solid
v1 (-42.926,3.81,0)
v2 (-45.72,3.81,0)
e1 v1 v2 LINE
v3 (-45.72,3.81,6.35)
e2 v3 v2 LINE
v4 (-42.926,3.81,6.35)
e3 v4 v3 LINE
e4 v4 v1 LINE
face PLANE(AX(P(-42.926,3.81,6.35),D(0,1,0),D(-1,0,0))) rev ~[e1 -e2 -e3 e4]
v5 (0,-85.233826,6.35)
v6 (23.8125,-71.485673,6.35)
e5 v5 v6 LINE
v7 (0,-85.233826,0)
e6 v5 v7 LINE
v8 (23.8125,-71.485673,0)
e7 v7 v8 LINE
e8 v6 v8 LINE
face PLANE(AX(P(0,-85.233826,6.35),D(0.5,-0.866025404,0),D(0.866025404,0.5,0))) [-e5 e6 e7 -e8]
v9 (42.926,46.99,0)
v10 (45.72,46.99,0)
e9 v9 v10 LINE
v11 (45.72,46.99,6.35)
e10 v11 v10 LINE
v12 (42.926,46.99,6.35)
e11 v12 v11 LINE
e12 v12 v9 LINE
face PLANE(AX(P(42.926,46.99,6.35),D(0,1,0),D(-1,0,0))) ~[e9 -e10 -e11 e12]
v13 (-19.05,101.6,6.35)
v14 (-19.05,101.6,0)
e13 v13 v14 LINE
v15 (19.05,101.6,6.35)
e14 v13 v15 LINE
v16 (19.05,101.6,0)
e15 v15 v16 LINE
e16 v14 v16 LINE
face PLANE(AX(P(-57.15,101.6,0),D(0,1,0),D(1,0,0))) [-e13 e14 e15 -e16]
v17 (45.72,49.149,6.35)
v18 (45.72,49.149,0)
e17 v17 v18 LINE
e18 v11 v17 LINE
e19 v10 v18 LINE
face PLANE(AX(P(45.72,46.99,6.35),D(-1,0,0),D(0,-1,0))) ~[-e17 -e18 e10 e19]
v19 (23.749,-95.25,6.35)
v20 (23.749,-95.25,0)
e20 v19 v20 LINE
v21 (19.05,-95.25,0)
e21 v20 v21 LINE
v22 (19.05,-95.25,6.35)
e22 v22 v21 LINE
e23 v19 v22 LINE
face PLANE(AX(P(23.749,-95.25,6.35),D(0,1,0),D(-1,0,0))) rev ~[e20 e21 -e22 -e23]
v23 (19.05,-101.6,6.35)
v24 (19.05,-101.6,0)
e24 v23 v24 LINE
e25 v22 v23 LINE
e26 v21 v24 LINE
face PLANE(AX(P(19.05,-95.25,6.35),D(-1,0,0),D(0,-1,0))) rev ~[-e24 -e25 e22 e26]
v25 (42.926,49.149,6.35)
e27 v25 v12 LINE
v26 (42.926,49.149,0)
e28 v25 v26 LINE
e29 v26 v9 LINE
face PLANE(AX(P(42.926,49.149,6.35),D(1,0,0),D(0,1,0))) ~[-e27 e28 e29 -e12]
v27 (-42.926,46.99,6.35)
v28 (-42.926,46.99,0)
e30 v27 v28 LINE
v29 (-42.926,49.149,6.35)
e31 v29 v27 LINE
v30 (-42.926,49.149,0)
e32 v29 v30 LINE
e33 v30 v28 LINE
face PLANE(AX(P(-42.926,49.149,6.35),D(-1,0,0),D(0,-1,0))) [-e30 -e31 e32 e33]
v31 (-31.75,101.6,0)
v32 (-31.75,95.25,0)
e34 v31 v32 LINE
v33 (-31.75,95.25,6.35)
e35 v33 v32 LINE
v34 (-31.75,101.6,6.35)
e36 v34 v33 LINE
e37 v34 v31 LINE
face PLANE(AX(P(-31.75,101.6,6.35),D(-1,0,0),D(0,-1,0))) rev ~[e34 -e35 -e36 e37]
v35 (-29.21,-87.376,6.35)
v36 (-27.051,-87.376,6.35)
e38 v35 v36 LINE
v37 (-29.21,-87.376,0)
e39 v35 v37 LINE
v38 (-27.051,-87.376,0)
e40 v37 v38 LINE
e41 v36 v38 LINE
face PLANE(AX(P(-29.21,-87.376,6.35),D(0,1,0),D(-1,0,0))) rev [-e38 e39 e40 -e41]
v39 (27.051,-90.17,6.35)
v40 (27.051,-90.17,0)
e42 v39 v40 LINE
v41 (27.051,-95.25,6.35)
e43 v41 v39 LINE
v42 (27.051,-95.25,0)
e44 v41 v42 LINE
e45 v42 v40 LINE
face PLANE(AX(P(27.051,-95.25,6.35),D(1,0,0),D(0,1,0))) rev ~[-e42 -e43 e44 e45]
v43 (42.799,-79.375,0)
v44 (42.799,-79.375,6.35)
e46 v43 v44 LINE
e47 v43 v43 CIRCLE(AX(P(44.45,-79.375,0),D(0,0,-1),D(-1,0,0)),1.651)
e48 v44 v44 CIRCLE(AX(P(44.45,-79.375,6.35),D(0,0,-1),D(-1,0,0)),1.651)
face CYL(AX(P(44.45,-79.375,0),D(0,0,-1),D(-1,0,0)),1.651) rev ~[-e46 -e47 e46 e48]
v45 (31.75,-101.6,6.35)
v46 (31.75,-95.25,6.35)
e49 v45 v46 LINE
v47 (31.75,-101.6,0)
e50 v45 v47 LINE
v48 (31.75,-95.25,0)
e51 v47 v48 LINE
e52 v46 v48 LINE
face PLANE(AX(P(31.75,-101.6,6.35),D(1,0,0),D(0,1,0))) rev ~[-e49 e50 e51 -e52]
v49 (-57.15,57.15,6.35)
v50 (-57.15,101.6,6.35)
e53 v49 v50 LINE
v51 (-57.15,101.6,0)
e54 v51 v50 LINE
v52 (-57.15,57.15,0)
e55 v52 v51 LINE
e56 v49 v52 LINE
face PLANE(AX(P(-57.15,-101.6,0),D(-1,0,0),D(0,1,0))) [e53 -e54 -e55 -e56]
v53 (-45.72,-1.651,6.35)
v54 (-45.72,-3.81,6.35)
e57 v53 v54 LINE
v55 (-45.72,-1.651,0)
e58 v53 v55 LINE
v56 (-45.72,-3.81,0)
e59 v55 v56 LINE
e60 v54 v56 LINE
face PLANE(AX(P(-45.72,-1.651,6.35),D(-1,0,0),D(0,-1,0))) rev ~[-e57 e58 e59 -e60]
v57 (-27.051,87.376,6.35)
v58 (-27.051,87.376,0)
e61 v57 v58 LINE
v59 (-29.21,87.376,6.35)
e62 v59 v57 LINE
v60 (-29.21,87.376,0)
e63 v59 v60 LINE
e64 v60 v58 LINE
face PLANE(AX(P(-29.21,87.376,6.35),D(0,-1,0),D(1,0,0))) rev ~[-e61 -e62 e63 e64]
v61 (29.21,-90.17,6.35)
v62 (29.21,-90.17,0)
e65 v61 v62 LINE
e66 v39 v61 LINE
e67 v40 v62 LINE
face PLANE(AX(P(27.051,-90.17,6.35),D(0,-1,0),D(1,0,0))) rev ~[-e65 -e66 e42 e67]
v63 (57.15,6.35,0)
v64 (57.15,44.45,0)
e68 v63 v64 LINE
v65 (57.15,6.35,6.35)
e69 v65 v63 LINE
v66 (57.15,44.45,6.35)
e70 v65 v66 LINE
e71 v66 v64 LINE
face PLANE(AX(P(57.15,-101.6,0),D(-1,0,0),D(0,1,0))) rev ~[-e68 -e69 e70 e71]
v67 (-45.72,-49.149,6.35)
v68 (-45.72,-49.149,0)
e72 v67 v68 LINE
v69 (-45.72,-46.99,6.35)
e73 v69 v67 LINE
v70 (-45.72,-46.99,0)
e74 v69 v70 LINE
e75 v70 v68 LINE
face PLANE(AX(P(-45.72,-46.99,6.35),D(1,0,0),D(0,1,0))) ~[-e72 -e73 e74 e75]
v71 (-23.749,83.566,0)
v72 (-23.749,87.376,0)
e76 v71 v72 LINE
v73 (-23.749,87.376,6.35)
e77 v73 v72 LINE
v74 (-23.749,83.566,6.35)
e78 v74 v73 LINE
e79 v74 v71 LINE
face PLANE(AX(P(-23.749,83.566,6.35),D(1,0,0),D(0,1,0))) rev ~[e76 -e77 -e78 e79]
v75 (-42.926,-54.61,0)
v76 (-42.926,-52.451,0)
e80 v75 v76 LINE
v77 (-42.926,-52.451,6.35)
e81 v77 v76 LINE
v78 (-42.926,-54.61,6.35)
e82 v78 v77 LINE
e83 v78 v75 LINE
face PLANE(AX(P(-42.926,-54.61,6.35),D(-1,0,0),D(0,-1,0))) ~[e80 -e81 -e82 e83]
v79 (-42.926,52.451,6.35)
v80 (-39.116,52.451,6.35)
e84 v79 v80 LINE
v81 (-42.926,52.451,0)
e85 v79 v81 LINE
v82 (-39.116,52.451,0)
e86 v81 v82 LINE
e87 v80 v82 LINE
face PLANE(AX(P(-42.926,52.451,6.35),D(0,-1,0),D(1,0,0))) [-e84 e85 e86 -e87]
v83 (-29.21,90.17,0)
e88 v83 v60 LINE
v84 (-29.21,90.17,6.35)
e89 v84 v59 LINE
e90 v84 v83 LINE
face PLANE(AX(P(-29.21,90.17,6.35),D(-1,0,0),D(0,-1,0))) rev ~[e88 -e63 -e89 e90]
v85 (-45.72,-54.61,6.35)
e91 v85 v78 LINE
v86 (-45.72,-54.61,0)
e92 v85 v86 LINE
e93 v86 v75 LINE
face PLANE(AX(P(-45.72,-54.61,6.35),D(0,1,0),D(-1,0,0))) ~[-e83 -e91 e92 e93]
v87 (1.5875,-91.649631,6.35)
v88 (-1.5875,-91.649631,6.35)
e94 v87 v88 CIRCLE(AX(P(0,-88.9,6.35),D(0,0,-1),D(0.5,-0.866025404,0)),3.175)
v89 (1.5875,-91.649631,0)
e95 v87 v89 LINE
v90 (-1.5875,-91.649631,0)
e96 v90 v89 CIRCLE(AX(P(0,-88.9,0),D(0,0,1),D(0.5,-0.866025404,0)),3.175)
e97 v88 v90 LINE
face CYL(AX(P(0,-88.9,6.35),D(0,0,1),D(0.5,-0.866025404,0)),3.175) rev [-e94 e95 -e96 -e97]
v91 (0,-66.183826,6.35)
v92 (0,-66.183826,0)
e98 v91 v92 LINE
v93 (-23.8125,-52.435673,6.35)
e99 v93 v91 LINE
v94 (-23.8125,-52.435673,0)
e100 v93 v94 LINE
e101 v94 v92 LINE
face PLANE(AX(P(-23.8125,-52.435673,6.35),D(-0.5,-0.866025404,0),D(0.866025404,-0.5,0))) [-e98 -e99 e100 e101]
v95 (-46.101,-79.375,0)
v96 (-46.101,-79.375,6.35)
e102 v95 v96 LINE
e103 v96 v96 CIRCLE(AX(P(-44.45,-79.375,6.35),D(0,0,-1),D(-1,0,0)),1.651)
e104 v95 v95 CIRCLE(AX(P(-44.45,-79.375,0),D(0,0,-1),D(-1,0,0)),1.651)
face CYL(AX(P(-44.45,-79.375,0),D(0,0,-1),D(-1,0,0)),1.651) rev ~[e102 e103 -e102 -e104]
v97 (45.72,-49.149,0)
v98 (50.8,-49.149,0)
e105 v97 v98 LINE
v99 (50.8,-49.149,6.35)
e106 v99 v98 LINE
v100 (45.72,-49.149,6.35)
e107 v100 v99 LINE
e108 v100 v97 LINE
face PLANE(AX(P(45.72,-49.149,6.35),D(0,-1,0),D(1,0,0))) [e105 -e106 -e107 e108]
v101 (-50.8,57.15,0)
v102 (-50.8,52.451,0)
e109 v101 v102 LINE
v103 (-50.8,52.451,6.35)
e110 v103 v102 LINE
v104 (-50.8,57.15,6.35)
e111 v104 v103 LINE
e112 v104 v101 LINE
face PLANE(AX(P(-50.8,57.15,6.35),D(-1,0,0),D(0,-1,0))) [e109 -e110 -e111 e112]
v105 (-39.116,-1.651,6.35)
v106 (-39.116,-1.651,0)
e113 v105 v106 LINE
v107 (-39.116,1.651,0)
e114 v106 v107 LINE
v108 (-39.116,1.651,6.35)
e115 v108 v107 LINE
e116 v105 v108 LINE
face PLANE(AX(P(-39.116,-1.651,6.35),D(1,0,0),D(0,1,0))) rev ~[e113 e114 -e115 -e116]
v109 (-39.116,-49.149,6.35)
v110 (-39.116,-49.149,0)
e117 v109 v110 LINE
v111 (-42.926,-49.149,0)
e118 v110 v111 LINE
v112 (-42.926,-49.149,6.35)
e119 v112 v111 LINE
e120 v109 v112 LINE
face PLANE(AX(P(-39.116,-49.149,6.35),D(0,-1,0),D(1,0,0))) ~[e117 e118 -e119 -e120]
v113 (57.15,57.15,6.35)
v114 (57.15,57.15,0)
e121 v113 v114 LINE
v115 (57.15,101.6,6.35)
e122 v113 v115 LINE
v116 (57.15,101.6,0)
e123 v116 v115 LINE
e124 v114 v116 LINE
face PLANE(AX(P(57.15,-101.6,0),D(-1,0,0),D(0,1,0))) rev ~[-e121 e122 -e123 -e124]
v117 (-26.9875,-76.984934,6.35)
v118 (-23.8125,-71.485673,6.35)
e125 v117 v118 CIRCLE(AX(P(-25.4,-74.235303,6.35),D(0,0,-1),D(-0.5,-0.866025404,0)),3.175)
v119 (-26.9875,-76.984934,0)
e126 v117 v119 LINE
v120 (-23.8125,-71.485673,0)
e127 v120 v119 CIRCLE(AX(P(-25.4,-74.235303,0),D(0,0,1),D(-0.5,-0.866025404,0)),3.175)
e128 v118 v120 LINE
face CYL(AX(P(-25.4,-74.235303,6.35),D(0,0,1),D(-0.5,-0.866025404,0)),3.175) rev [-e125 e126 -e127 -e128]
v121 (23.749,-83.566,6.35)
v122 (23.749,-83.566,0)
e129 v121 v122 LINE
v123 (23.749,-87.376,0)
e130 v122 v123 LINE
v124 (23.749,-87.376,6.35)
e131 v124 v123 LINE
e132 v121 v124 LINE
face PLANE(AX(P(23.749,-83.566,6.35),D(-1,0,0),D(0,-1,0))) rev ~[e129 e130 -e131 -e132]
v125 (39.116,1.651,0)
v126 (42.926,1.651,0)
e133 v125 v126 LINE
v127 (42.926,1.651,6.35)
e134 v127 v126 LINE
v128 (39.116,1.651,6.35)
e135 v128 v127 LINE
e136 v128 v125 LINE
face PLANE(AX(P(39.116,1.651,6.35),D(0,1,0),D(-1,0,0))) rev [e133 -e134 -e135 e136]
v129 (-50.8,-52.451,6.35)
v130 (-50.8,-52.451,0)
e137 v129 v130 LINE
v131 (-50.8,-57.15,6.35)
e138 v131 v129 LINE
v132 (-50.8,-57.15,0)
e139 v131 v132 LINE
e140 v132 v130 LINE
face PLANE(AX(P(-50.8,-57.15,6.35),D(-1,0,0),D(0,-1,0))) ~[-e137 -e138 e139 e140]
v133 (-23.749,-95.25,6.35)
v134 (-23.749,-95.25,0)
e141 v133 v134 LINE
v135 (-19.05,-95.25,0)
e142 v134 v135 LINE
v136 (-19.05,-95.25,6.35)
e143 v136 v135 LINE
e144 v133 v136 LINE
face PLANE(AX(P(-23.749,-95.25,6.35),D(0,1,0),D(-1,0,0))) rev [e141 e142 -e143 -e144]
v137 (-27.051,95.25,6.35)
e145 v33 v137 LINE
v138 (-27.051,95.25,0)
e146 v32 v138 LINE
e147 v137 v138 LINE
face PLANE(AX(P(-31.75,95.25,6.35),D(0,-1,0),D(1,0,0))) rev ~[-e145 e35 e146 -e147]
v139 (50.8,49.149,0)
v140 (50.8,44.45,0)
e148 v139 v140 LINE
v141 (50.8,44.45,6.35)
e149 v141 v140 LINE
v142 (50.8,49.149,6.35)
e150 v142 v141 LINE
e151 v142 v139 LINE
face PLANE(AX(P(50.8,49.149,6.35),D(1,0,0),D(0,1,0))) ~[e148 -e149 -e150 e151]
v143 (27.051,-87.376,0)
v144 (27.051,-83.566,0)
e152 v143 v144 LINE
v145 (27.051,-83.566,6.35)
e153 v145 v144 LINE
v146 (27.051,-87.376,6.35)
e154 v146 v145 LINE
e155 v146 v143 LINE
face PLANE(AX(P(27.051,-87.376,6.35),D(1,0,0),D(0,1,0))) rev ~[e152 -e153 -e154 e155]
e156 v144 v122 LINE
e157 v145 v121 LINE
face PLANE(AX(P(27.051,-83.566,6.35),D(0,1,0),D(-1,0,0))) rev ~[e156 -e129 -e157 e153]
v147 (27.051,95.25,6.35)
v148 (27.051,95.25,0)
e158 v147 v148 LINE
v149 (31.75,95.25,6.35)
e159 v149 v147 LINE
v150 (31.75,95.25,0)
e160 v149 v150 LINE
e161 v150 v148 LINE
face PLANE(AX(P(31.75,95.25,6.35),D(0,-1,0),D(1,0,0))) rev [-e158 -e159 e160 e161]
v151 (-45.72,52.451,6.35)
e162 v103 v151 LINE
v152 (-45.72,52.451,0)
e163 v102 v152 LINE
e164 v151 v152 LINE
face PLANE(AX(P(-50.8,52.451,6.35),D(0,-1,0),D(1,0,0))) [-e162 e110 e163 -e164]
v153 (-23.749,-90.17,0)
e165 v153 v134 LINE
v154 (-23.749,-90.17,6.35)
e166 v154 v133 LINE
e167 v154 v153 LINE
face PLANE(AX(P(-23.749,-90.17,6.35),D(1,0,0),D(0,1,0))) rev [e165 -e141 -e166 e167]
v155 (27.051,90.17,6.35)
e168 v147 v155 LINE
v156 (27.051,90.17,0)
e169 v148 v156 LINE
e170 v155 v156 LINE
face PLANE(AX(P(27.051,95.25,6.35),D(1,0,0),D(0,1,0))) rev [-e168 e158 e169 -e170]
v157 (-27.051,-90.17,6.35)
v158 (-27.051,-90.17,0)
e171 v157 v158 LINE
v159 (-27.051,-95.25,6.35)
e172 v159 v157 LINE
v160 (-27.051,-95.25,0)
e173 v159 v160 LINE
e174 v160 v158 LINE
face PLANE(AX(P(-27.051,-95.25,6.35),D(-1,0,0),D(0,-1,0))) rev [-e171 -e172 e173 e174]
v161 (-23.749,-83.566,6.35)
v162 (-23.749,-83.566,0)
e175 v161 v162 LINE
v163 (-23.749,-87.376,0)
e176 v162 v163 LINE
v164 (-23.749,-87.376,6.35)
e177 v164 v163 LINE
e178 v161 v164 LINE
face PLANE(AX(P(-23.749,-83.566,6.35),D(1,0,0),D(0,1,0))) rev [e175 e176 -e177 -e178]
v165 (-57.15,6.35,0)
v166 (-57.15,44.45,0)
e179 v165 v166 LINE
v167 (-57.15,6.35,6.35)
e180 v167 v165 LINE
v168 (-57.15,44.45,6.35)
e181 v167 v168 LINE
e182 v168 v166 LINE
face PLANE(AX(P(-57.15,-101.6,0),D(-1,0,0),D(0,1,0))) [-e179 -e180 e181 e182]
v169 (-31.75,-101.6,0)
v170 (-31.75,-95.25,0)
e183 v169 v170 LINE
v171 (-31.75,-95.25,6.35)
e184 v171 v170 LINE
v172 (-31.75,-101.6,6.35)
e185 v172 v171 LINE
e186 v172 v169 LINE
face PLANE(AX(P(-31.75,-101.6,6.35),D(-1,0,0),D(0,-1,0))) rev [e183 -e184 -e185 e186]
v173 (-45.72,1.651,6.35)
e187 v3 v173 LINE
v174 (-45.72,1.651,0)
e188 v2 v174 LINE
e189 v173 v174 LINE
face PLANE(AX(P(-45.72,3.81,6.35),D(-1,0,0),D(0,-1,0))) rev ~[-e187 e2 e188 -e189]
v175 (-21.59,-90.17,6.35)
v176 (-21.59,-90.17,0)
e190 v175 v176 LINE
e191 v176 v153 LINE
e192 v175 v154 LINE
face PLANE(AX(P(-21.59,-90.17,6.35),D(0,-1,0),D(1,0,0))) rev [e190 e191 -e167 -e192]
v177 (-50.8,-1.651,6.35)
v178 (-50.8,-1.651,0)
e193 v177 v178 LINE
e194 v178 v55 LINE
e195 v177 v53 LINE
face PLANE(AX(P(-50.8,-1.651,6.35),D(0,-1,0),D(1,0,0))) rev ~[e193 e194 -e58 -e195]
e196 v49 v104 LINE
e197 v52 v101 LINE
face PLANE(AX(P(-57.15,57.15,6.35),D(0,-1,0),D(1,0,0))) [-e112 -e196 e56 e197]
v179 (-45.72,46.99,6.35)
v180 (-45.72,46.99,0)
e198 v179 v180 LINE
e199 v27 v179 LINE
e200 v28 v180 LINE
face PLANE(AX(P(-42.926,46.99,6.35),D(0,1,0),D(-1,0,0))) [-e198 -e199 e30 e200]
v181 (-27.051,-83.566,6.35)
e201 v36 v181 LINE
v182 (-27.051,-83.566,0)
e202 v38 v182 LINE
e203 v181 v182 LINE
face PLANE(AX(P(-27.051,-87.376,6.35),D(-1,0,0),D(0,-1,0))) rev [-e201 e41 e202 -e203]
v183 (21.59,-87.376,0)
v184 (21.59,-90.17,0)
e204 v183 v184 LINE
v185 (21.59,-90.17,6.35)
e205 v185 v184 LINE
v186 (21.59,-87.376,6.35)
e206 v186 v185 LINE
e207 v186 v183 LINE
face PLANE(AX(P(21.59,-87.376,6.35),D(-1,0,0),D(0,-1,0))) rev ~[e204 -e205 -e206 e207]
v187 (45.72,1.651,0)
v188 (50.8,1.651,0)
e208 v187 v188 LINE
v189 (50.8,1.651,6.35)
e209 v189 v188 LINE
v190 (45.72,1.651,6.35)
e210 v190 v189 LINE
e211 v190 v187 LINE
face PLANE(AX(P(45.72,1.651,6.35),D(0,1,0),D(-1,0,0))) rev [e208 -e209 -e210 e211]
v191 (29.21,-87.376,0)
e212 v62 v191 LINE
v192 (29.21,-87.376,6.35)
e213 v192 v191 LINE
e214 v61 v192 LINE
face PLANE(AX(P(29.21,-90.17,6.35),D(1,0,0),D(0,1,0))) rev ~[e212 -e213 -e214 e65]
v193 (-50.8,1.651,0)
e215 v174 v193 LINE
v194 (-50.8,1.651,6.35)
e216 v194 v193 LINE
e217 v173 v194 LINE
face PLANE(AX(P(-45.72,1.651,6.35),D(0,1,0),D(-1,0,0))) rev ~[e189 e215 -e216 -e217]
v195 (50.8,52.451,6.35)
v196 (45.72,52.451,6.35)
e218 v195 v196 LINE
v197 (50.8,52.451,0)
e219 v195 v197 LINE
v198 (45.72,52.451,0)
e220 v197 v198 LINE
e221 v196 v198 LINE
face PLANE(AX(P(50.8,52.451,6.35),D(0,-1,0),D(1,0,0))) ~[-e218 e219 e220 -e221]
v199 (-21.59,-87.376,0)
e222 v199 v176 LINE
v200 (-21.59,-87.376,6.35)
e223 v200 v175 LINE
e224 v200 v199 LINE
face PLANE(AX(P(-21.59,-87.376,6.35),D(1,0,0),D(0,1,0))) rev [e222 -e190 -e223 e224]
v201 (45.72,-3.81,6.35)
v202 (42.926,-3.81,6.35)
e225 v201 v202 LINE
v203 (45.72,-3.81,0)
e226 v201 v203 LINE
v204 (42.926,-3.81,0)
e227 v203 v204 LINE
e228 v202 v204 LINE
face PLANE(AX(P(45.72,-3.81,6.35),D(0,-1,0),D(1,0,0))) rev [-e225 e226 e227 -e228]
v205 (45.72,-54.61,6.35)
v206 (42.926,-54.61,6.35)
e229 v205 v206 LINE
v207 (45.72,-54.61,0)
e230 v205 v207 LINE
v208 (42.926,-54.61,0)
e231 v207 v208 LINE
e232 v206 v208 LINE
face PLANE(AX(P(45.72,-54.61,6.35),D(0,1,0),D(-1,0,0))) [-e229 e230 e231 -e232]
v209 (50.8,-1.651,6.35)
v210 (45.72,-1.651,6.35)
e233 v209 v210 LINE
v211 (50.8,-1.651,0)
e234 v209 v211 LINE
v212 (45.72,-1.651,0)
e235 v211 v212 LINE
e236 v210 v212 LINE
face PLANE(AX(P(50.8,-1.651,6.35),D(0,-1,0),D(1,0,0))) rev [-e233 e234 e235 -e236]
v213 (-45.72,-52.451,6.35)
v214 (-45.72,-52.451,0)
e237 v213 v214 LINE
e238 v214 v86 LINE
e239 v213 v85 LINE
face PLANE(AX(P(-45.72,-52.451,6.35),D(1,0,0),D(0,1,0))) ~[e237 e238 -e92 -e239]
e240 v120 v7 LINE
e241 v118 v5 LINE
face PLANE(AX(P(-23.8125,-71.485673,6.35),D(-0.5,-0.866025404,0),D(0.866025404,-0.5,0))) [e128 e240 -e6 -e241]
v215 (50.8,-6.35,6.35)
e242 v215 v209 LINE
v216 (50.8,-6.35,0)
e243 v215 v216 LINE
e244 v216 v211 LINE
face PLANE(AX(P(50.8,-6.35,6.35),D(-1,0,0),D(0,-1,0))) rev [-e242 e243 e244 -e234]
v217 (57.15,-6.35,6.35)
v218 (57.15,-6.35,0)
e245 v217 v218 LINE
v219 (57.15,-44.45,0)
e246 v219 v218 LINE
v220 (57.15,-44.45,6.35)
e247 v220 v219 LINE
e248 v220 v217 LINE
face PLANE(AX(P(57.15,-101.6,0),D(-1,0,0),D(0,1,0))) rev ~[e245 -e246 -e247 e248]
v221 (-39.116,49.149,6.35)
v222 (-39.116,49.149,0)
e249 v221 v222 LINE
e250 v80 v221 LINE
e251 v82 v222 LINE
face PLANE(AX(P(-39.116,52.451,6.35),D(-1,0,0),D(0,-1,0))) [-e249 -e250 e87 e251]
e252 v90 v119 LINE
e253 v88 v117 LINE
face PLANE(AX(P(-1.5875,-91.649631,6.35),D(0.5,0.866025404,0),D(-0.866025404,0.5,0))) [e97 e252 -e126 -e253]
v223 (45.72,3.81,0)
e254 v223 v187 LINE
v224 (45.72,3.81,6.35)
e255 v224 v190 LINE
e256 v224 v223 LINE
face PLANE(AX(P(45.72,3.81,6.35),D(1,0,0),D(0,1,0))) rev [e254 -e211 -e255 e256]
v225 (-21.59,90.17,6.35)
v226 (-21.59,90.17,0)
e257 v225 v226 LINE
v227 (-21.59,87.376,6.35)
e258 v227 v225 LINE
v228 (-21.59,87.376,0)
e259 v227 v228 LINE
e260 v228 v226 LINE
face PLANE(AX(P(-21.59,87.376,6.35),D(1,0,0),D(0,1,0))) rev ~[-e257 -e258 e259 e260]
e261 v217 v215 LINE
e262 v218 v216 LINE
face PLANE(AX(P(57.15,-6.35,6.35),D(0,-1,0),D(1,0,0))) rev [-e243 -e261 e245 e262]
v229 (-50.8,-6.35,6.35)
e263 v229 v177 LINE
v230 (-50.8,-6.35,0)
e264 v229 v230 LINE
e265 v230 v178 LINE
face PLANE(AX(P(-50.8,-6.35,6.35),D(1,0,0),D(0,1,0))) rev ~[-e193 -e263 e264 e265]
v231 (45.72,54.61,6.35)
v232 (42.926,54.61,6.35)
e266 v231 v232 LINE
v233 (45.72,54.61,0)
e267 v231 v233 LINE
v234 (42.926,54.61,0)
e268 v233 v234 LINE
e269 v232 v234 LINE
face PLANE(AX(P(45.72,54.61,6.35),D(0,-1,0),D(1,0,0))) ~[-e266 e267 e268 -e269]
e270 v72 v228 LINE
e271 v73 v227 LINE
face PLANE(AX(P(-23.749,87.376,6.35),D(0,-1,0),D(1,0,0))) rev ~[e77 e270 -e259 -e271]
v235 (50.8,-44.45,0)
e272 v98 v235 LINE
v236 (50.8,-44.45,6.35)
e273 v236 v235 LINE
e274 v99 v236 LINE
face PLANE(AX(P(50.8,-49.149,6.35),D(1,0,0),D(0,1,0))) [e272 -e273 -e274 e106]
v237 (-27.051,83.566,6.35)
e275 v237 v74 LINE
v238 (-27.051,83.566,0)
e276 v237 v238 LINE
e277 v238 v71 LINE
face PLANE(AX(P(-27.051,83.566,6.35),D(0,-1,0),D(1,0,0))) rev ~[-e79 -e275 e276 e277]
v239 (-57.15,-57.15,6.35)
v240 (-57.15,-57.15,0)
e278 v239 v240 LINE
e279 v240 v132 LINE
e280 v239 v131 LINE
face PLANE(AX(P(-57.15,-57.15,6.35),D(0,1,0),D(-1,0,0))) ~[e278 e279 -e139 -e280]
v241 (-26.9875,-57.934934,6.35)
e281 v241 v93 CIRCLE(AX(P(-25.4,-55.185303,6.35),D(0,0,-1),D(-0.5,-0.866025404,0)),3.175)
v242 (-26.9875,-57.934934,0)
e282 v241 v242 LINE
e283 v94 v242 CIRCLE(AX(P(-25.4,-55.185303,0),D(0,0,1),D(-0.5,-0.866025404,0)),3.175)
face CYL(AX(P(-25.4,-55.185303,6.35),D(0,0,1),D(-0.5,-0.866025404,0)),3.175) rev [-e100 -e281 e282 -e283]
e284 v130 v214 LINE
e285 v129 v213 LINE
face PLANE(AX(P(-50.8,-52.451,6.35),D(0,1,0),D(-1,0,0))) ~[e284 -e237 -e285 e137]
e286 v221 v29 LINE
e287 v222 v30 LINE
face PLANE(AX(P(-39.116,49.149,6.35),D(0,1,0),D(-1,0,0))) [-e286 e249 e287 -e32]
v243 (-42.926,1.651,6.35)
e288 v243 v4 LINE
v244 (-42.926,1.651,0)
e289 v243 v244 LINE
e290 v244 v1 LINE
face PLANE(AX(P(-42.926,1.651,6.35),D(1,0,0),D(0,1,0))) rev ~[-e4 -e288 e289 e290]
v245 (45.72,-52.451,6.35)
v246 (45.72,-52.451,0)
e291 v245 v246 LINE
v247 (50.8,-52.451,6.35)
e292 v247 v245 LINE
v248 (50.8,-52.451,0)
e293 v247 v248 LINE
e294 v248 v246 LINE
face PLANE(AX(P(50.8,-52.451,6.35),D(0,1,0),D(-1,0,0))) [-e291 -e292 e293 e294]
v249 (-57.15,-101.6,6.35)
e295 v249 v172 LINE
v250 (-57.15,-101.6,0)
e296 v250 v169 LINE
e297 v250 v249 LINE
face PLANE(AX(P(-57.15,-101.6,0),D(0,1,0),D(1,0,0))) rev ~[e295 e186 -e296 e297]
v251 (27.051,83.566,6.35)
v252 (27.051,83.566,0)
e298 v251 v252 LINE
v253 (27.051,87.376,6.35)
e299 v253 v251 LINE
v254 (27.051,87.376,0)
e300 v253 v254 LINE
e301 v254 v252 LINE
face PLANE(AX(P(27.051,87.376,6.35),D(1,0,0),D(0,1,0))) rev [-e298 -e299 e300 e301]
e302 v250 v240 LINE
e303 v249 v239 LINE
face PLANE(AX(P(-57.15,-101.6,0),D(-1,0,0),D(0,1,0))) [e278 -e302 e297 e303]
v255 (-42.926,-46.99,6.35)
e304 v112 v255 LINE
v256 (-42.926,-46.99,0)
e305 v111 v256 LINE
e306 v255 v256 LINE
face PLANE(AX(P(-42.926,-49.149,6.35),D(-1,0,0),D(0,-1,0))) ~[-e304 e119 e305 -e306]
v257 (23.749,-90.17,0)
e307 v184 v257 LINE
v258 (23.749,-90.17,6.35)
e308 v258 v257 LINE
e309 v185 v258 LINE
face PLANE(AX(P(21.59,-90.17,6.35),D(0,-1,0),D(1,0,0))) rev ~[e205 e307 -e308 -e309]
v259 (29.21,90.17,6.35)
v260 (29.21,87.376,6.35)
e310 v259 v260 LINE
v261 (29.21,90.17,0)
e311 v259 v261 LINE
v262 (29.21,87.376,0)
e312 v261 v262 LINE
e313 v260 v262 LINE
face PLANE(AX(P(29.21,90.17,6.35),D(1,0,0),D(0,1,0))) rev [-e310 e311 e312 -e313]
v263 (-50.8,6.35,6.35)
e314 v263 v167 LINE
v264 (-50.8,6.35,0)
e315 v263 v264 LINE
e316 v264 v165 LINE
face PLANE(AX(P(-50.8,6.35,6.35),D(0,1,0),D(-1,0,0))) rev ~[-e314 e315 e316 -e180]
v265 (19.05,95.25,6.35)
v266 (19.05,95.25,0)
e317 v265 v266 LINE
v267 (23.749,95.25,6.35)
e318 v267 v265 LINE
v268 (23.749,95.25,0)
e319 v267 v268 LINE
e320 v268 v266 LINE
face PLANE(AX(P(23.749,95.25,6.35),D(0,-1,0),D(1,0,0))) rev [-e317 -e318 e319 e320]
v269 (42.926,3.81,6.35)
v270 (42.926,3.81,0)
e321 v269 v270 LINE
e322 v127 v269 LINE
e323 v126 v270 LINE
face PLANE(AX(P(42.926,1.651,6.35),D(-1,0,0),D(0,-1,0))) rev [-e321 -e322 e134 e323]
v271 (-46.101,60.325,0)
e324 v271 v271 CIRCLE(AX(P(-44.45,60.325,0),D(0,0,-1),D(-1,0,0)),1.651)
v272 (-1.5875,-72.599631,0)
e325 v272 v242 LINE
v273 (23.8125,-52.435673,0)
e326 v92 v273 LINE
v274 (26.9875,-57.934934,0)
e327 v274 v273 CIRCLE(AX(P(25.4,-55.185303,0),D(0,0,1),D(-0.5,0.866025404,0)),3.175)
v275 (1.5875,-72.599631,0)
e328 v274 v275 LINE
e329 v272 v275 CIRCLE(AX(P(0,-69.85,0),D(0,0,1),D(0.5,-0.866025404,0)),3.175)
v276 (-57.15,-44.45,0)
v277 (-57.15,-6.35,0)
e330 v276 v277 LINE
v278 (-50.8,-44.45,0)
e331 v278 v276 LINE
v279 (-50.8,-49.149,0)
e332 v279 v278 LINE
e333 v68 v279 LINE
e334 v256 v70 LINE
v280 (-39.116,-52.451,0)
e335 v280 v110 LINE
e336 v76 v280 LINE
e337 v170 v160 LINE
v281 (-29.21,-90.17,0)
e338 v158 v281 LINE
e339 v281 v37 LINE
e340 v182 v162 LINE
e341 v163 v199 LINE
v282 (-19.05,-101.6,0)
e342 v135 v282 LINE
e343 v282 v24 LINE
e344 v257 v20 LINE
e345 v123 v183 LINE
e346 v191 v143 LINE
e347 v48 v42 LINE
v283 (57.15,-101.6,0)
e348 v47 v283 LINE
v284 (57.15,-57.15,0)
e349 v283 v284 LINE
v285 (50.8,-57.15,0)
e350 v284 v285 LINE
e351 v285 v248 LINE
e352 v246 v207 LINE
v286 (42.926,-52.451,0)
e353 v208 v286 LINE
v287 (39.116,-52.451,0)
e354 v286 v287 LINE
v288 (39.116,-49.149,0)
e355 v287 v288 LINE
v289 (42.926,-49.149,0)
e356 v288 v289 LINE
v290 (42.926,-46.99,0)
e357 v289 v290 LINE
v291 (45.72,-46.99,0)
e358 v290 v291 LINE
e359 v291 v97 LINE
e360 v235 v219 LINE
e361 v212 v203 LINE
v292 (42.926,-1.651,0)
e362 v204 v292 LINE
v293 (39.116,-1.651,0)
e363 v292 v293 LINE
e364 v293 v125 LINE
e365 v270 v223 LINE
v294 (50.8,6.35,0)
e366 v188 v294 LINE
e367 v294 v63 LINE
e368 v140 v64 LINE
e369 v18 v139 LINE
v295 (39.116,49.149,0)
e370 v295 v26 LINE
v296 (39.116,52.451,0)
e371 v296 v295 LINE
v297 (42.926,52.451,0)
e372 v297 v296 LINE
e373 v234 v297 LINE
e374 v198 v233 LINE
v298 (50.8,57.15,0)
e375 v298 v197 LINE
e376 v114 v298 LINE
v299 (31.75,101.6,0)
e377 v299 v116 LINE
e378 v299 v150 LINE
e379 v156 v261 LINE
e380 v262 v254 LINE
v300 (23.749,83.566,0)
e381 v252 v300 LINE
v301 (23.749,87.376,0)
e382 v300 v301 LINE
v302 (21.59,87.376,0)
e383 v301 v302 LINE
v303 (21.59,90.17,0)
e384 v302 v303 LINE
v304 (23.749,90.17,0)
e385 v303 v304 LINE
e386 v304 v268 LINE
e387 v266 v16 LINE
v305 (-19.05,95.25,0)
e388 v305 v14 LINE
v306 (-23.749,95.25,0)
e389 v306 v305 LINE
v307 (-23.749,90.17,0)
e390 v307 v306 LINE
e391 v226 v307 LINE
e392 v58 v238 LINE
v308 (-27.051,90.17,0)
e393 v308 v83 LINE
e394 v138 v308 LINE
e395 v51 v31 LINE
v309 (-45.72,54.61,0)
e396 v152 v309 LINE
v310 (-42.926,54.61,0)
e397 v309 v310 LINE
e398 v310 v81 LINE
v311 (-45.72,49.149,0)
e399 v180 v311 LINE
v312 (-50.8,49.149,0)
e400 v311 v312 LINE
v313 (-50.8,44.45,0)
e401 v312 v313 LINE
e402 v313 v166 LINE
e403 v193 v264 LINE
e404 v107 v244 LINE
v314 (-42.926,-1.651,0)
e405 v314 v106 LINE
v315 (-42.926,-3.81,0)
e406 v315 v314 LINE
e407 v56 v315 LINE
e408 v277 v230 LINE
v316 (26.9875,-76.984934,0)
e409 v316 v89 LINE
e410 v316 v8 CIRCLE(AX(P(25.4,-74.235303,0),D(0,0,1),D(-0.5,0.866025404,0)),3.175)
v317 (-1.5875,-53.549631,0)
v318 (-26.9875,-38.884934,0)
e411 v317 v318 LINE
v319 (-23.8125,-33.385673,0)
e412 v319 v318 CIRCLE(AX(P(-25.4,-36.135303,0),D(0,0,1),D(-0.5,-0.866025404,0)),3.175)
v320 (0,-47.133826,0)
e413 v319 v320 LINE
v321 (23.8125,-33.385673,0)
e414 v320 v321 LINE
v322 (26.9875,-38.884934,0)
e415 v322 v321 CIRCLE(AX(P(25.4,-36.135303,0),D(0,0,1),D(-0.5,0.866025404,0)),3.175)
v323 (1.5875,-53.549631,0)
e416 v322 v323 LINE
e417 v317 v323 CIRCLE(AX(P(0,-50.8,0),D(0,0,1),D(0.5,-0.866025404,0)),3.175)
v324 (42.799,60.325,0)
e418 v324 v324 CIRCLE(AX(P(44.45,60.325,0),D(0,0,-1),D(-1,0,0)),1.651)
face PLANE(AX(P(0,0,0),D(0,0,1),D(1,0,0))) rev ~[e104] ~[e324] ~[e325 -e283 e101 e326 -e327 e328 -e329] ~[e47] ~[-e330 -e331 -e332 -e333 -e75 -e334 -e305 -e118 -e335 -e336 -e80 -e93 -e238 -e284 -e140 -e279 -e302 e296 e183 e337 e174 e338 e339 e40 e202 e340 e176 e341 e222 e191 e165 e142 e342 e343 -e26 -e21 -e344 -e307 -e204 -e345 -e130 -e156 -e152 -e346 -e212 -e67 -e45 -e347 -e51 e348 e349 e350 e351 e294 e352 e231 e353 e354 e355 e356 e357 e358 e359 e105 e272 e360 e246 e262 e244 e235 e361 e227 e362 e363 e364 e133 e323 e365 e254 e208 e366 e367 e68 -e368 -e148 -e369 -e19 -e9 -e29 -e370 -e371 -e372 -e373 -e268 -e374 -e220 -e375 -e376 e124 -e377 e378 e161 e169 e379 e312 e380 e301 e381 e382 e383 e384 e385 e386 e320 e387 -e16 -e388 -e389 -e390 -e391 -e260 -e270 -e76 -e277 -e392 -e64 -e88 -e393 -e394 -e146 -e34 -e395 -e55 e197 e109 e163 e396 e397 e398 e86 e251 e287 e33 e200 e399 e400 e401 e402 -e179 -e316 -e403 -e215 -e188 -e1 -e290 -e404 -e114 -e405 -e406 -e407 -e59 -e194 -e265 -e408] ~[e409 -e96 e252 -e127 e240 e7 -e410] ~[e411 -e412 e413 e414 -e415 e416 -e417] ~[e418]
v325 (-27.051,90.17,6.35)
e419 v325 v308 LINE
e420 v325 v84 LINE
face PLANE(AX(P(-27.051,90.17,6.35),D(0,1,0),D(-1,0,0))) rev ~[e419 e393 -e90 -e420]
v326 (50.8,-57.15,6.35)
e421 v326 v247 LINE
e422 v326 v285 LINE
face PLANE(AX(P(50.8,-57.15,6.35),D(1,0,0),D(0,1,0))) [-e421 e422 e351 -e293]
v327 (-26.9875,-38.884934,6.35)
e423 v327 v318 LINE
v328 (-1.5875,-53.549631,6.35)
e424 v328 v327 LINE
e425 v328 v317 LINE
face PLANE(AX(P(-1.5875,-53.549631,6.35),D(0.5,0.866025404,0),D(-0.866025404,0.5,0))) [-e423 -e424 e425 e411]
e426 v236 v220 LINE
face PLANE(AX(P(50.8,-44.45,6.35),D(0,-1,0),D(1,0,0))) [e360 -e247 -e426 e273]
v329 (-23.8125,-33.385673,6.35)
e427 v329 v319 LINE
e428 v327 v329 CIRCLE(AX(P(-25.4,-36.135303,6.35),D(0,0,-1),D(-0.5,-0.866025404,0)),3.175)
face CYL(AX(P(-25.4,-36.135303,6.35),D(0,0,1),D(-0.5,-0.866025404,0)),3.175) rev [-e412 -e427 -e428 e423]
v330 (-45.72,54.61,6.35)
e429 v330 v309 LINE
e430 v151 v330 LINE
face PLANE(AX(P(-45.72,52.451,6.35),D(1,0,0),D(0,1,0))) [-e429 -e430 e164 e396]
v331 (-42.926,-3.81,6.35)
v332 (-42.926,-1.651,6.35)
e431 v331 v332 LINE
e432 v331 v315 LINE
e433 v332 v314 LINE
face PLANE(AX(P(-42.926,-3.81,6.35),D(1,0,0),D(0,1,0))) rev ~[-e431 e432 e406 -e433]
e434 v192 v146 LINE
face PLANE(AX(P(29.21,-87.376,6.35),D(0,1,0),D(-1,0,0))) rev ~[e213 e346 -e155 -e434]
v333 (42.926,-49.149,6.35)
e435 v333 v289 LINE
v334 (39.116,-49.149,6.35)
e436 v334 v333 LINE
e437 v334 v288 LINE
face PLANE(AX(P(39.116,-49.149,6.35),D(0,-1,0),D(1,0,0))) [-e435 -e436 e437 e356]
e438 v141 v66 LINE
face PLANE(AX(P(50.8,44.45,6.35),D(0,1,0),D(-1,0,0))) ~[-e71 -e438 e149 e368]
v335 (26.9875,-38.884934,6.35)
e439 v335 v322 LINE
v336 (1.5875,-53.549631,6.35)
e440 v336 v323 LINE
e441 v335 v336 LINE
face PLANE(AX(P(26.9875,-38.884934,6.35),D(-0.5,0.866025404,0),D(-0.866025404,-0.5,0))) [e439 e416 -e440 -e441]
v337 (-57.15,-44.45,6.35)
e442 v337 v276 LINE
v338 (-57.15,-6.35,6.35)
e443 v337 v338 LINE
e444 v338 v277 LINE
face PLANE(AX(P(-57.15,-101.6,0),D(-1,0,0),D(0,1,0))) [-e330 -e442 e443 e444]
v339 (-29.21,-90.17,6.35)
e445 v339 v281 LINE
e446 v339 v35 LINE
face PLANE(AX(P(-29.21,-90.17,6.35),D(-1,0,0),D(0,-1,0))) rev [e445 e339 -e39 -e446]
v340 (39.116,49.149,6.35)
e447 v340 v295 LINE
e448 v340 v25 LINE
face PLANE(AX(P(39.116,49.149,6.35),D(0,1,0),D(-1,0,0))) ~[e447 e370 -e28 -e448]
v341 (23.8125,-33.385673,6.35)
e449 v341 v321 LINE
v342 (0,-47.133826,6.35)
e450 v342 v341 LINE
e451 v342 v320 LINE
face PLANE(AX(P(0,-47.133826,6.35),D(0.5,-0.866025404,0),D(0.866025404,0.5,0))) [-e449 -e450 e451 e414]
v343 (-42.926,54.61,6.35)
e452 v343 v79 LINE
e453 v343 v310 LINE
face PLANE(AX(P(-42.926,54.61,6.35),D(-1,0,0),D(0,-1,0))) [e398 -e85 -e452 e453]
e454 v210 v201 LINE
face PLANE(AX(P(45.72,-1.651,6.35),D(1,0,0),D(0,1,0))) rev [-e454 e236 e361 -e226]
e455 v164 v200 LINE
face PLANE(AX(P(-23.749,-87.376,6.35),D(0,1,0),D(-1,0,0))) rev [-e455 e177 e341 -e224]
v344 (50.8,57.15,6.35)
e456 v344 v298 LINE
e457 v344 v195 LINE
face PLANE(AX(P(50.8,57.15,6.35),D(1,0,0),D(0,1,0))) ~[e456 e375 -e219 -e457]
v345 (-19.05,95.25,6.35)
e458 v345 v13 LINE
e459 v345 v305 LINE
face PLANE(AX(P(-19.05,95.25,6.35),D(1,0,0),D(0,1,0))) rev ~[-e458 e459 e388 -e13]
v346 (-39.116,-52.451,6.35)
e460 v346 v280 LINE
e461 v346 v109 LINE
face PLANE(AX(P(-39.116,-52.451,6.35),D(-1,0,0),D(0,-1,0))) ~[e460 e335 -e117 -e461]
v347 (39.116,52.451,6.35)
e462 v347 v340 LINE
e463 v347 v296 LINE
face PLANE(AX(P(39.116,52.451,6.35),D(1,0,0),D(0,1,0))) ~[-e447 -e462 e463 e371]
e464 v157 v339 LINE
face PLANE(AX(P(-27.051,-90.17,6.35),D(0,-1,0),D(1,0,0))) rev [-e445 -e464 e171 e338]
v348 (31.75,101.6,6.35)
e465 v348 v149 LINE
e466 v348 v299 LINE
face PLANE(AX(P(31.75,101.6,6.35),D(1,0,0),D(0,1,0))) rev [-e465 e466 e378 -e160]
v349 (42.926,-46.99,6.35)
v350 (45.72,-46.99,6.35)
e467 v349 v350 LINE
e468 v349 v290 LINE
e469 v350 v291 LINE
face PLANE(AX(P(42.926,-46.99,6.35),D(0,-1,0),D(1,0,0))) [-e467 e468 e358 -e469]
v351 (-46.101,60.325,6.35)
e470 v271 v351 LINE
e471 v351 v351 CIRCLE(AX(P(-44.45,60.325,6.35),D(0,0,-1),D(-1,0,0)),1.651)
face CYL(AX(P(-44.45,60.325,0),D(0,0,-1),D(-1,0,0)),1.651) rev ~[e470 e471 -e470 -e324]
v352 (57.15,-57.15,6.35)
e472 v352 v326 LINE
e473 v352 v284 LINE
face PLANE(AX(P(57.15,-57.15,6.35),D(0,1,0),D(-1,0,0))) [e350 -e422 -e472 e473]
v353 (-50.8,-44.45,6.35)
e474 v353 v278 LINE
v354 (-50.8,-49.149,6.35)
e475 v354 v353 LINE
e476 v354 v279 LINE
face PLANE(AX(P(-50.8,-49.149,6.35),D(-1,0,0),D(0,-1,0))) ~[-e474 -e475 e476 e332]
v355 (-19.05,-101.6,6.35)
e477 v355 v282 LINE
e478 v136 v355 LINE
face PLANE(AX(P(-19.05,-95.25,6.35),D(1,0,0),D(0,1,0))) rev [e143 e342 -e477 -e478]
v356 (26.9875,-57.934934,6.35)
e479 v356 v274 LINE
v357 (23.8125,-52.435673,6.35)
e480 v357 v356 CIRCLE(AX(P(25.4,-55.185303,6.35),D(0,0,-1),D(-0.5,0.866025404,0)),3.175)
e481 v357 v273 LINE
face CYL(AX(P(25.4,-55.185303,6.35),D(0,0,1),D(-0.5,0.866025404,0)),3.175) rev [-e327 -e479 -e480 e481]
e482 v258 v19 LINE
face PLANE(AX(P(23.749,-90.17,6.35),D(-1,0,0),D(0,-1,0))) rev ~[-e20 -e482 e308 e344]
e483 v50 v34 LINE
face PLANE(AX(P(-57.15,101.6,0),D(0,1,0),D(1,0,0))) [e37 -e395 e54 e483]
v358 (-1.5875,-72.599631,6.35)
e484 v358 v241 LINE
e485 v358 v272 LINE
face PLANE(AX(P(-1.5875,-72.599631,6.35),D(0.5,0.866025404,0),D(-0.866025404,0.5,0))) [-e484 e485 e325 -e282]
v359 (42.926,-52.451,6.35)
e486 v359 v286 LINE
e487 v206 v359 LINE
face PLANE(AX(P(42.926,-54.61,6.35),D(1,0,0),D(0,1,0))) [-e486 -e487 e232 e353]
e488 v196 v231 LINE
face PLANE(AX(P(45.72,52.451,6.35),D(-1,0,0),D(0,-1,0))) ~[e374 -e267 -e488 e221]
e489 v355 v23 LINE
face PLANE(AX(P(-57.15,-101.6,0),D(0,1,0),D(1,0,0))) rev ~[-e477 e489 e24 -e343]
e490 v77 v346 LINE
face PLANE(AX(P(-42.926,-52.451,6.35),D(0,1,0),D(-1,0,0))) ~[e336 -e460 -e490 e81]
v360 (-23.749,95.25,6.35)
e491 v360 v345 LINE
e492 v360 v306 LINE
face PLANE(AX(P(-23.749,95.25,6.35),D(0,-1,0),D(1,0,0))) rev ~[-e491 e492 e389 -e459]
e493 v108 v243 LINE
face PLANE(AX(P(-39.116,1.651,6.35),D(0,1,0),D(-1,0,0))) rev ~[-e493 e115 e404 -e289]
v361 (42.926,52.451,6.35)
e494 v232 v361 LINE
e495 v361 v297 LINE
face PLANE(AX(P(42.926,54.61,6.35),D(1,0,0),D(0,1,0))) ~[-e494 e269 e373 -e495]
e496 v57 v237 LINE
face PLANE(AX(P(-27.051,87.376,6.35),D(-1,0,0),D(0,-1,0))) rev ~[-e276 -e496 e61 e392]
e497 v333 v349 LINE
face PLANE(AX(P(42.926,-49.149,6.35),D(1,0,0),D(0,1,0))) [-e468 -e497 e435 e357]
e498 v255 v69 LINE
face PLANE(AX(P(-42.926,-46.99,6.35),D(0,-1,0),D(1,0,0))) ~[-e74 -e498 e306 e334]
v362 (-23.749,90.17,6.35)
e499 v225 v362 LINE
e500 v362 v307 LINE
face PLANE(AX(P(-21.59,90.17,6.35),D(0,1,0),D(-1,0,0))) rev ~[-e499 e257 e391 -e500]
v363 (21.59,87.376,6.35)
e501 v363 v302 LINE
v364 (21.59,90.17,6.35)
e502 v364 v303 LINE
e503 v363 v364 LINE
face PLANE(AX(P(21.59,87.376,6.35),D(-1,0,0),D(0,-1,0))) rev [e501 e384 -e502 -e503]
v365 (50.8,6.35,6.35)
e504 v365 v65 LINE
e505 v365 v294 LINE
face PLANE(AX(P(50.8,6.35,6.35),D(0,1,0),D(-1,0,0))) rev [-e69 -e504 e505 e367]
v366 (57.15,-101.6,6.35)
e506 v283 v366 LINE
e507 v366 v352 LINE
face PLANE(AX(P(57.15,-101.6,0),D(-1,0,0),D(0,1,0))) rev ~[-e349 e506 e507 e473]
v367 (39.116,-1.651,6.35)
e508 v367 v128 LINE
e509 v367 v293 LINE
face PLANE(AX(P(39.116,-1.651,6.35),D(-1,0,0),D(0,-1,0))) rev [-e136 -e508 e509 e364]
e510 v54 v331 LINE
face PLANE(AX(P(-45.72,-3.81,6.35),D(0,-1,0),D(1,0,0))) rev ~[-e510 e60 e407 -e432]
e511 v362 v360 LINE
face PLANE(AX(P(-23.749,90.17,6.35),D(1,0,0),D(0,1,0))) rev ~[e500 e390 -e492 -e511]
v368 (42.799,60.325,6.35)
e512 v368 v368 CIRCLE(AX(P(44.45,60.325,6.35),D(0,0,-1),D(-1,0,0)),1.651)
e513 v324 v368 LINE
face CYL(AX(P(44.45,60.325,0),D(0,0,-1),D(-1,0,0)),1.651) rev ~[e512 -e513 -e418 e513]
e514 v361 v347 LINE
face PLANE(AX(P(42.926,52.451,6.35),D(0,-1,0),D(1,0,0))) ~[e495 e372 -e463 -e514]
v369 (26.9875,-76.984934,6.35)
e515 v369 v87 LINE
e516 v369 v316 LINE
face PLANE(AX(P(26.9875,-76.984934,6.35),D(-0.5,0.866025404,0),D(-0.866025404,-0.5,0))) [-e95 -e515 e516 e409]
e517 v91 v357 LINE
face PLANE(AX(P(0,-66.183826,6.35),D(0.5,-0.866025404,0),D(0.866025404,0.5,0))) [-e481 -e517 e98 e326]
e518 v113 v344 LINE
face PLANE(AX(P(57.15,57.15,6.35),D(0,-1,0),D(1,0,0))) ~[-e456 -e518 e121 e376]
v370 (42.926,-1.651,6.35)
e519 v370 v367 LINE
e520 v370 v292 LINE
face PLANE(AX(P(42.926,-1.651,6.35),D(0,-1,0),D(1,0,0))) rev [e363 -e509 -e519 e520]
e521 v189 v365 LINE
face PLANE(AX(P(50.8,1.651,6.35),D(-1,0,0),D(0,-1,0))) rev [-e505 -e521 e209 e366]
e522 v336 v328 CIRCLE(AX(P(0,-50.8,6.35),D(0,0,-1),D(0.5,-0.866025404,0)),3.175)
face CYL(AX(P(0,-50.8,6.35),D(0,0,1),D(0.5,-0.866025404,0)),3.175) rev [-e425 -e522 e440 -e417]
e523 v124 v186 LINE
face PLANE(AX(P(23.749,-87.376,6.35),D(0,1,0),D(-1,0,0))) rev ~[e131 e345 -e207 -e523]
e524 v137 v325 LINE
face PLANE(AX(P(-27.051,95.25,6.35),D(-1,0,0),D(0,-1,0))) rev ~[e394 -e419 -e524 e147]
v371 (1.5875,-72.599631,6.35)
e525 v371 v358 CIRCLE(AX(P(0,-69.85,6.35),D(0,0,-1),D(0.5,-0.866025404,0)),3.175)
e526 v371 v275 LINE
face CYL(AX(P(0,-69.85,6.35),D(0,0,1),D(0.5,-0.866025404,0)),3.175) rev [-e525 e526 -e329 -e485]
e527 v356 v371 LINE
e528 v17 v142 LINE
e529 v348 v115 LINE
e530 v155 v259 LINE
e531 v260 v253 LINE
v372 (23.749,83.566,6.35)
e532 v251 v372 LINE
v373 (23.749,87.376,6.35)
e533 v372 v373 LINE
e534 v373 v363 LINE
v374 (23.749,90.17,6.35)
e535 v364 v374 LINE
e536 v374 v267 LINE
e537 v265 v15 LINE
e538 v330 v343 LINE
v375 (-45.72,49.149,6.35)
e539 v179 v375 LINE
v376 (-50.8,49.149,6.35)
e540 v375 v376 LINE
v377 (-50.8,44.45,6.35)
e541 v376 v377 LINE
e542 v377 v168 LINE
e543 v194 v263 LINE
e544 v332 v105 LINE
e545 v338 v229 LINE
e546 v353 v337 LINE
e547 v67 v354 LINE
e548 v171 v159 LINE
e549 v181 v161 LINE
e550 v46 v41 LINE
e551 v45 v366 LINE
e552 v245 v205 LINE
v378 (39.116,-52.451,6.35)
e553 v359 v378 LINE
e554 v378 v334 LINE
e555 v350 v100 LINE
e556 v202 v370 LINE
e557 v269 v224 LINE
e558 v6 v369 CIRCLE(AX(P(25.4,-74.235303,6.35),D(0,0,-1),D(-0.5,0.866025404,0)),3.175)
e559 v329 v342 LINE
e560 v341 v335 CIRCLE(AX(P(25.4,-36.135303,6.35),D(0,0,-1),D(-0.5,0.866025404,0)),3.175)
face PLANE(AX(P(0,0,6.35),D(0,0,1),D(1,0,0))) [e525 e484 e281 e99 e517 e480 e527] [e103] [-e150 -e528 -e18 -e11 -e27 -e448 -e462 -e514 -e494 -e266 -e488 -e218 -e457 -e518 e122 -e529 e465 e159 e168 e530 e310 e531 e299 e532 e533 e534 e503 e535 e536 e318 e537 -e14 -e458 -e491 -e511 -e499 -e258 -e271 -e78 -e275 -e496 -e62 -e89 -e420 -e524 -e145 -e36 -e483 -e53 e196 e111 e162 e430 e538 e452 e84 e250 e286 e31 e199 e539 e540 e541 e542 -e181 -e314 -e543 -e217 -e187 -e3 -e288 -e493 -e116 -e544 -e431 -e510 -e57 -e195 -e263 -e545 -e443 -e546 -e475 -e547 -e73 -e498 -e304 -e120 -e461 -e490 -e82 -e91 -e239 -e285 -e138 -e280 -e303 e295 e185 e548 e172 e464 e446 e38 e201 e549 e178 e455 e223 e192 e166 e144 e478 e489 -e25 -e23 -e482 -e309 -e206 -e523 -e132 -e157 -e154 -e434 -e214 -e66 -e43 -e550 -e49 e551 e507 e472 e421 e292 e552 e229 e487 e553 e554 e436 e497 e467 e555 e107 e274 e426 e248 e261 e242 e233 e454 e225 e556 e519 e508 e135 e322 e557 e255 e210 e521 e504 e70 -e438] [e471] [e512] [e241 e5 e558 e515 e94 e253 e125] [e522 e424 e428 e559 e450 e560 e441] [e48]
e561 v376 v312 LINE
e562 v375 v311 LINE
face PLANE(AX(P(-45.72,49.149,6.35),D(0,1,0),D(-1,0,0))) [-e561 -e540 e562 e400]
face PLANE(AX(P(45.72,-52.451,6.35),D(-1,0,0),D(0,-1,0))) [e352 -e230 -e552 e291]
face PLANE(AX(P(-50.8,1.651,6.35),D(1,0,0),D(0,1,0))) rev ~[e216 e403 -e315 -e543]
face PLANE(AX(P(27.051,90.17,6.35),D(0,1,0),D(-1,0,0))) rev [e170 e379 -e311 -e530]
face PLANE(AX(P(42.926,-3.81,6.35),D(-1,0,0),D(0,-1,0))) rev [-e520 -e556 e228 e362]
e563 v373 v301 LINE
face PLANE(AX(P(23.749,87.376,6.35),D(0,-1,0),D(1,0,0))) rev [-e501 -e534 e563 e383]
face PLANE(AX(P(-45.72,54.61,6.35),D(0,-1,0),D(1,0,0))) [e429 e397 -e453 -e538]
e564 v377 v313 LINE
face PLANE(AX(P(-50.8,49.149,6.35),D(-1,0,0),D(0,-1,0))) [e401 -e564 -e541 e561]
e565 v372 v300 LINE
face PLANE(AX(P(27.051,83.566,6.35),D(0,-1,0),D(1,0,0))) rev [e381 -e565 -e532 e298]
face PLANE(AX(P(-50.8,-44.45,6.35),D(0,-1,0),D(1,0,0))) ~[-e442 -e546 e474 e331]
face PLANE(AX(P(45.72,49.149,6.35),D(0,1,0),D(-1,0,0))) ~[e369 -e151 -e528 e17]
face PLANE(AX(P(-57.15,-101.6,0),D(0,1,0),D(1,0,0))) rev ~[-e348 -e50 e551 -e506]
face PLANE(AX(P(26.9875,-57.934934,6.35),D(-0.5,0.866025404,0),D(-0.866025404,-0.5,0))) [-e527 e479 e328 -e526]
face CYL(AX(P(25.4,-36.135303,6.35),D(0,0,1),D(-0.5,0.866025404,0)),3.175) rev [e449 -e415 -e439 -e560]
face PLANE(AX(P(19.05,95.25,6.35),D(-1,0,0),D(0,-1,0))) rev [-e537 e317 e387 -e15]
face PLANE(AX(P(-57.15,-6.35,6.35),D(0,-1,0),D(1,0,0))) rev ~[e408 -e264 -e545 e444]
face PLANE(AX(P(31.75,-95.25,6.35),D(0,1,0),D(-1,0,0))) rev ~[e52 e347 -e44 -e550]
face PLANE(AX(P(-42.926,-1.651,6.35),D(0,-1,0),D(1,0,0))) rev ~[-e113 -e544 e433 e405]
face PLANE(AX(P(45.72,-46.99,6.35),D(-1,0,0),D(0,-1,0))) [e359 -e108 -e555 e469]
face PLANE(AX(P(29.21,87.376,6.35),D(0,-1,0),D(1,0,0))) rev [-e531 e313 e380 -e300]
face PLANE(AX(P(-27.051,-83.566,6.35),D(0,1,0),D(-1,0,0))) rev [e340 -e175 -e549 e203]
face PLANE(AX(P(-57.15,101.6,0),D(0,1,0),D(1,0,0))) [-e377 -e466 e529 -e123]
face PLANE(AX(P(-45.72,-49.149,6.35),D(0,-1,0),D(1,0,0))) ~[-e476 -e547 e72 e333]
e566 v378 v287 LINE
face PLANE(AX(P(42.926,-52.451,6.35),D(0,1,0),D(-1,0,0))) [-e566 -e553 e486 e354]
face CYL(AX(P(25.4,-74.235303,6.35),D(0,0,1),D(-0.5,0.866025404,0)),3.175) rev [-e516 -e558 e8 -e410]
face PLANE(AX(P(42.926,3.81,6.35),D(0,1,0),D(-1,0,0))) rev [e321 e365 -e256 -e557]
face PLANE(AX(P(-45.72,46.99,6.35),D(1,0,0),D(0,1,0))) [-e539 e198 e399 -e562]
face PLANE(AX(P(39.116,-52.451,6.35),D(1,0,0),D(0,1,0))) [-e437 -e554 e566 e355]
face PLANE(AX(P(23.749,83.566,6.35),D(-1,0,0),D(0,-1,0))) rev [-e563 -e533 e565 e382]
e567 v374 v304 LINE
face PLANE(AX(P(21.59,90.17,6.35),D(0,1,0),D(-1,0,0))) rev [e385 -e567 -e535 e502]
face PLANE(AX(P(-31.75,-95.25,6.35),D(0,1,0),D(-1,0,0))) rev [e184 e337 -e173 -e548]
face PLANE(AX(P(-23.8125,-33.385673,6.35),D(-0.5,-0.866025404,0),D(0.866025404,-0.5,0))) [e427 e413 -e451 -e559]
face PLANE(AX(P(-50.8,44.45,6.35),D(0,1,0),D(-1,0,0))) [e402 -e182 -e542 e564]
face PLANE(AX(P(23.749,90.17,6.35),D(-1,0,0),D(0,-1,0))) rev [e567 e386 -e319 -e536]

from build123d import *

# Parameters (mm, degrees)
SKETCH1_W            = 114.3
SKETCH1_H            = 203.2
BOSS_EXTRUDE1_DEPTH  = 6.35
CUT_EXTRUDE2_DEPTH   = 117.743329574
CUT_EXTRUDE3_DEPTH   = 117.743329574
CUT_EXTRUDE4_DEPTH   = 117.743329574
MIRROR3_COPY_1_DEPTH = 117.743329574
MIRROR3_COPY_2_DEPTH = 117.743329574
SKETCH7_R            = 1.651
CUT_EXTRUDE7_DEPTH   = 117.743329574
CUT_EXTRUDE8_DEPTH   = 117.743329574
LPATTERN1_COUNT      = 3
LPATTERN1_PITCH      = 19.05


with BuildPart() as part:
    # Sketch1 → Boss-Extrude1 (new body)
    with BuildSketch(Plane.XY):
        Rectangle(SKETCH1_W, SKETCH1_H)
    extrude(amount=BOSS_EXTRUDE1_DEPTH)

    # Sketch2 → Cut-Extrude2 (cut, through all)
    with BuildSketch(Plane.XY.offset(6.35)):
        Polygon((-57.15, 6.35), (-57.15, -6.35), (-50.8, -6.35), (-50.8, -1.651), (-45.72, -1.651), (-45.72, -3.81), (-42.926, -3.81), (-42.926, -1.651), (-39.116, -1.651), (-39.116, 1.651), (-42.926, 1.651), (-42.926, 3.81), (-45.72, 3.81), (-45.72, 1.651), (-50.8, 1.651), (-50.8, 6.35), align=None)
    cut_extrude2 = extrude(amount=-CUT_EXTRUDE2_DEPTH, mode=Mode.SUBTRACT)

    # Sketch3 → Cut-Extrude3 (cut, through all)
    with BuildSketch(Plane.XY.offset(6.35)):
        Polygon((-31.75, 101.6), (-31.75, 95.25), (-27.051, 95.25), (-27.051, 90.17), (-29.21, 90.17), (-29.21, 87.376), (-27.051, 87.376), (-27.051, 83.566), (-23.749, 83.566), (-23.749, 87.376), (-21.59, 87.376), (-21.59, 90.17), (-23.749, 90.17), (-23.749, 95.25), (-19.05, 95.25), (-19.05, 101.6), align=None)
    cut_extrude3 = extrude(amount=-CUT_EXTRUDE3_DEPTH, mode=Mode.SUBTRACT)

    # Sketch4 → Cut-Extrude4 (cut, through all)
    with BuildSketch(Plane.XY.offset(6.35)):
        Polygon((-57.15, 57.15), (-50.8, 57.15), (-50.8, 52.451), (-45.72, 52.451), (-45.72, 54.61), (-42.926, 54.61), (-42.926, 52.451), (-39.116, 52.451), (-39.116, 49.149), (-42.926, 49.149), (-42.926, 46.99), (-45.72, 46.99), (-45.72, 49.149), (-50.8, 49.149), (-50.8, 44.45), (-57.15, 44.45), align=None)
    cut_extrude4 = extrude(amount=-CUT_EXTRUDE4_DEPTH, mode=Mode.SUBTRACT)

    # Mirror1: Cut-Extrude3, Cut-Extrude4 across plane
    add(cut_extrude3.mirror(Plane.ZX), mode=Mode.SUBTRACT)
    add(cut_extrude4.mirror(Plane.ZX), mode=Mode.SUBTRACT)

    # Mirror3: Cut-Extrude2, Cut-Extrude3, Cut-Extrude4 across plane
    add(cut_extrude2.mirror(Plane(origin=(0, 0, 0), x_dir=(0, 0, 1), z_dir=(1, 0, 0))), mode=Mode.SUBTRACT)
    add(cut_extrude3.mirror(Plane(origin=(0, 0, 0), x_dir=(0, 0, 1), z_dir=(1, 0, 0))), mode=Mode.SUBTRACT)
    add(cut_extrude4.mirror(Plane(origin=(0, 0, 0), x_dir=(0, 0, 1), z_dir=(1, 0, 0))), mode=Mode.SUBTRACT)

    # Mirror3 copy 1 sketch → Mirror3 copy 1 (cut, through all)
    with BuildSketch(Plane(origin=(0, 0, 6.35), x_dir=(-1, 0, 0), z_dir=(0, 0, 1))):
        Polygon((-31.75, 101.6), (-31.75, 95.25), (-27.051, 95.25), (-27.051, 90.17), (-29.21, 90.17), (-29.21, 87.376), (-27.051, 87.376), (-27.051, 83.566), (-23.749, 83.566), (-23.749, 87.376), (-21.59, 87.376), (-21.59, 90.17), (-23.749, 90.17), (-23.749, 95.25), (-19.05, 95.25), (-19.05, 101.6), align=None)
    extrude(amount=-MIRROR3_COPY_1_DEPTH, mode=Mode.SUBTRACT)

    # Mirror3 copy 2 sketch → Mirror3 copy 2 (cut, through all)
    with BuildSketch(Plane(origin=(0, 0, 6.35), x_dir=(-1, 0, 0), z_dir=(0, 0, 1))):
        Polygon((-57.15, 57.15), (-50.8, 57.15), (-50.8, 52.451), (-45.72, 52.451), (-45.72, 54.61), (-42.926, 54.61), (-42.926, 52.451), (-39.116, 52.451), (-39.116, 49.149), (-42.926, 49.149), (-42.926, 46.99), (-45.72, 46.99), (-45.72, 49.149), (-50.8, 49.149), (-50.8, 44.45), (-57.15, 44.45), align=None)
    extrude(amount=-MIRROR3_COPY_2_DEPTH, mode=Mode.SUBTRACT)

    # Sketch7 → Cut-Extrude7 (cut, through all)
    with BuildSketch(Plane(origin=(0, 0, 0), x_dir=(-1, 0, 0), z_dir=(0, 0, -1))):
        with Locations((-44.45, 60.325)):
            Circle(SKETCH7_R)
        with Locations((44.45, 60.325)):
            Circle(SKETCH7_R)
        with Locations((44.45, -79.375)):
            Circle(SKETCH7_R)
        with Locations((-44.45, -79.375)):
            Circle(SKETCH7_R)
    extrude(amount=-CUT_EXTRUDE7_DEPTH, mode=Mode.SUBTRACT)

    # Sketch8 → Cut-Extrude8 (cut, through all)
    with BuildSketch(Plane.XY.offset(6.35)):
        with BuildLine():
            Line((26.9875, -76.98493382), (1.5875, -91.649630657))
            ThreePointArc((1.5875, -91.649630657), (0, -92.075), (-1.5875, -91.649630657))
            Line((-1.5875, -91.649630657), (-26.9875, -76.98493382))
            ThreePointArc((-26.9875, -76.98493382), (-28.149630657, -72.647803163), (-23.8125, -71.485672506))
            Line((-23.8125, -71.485672506), (0, -85.233825791))
            Line((0, -85.233825791), (23.8125, -71.485672506))
            ThreePointArc((23.8125, -71.485672506), (28.149630657, -72.647803163), (26.9875, -76.98493382))
        make_face()
    cut_extrude8 = extrude(amount=-CUT_EXTRUDE8_DEPTH, mode=Mode.SUBTRACT)

    # LPattern1: Cut-Extrude8 ×3
    with Locations(*[(0, i * LPATTERN1_PITCH, 0) for i in range(1, LPATTERN1_COUNT)]):
        add(cut_extrude8, mode=Mode.SUBTRACT)


solid = part.part
